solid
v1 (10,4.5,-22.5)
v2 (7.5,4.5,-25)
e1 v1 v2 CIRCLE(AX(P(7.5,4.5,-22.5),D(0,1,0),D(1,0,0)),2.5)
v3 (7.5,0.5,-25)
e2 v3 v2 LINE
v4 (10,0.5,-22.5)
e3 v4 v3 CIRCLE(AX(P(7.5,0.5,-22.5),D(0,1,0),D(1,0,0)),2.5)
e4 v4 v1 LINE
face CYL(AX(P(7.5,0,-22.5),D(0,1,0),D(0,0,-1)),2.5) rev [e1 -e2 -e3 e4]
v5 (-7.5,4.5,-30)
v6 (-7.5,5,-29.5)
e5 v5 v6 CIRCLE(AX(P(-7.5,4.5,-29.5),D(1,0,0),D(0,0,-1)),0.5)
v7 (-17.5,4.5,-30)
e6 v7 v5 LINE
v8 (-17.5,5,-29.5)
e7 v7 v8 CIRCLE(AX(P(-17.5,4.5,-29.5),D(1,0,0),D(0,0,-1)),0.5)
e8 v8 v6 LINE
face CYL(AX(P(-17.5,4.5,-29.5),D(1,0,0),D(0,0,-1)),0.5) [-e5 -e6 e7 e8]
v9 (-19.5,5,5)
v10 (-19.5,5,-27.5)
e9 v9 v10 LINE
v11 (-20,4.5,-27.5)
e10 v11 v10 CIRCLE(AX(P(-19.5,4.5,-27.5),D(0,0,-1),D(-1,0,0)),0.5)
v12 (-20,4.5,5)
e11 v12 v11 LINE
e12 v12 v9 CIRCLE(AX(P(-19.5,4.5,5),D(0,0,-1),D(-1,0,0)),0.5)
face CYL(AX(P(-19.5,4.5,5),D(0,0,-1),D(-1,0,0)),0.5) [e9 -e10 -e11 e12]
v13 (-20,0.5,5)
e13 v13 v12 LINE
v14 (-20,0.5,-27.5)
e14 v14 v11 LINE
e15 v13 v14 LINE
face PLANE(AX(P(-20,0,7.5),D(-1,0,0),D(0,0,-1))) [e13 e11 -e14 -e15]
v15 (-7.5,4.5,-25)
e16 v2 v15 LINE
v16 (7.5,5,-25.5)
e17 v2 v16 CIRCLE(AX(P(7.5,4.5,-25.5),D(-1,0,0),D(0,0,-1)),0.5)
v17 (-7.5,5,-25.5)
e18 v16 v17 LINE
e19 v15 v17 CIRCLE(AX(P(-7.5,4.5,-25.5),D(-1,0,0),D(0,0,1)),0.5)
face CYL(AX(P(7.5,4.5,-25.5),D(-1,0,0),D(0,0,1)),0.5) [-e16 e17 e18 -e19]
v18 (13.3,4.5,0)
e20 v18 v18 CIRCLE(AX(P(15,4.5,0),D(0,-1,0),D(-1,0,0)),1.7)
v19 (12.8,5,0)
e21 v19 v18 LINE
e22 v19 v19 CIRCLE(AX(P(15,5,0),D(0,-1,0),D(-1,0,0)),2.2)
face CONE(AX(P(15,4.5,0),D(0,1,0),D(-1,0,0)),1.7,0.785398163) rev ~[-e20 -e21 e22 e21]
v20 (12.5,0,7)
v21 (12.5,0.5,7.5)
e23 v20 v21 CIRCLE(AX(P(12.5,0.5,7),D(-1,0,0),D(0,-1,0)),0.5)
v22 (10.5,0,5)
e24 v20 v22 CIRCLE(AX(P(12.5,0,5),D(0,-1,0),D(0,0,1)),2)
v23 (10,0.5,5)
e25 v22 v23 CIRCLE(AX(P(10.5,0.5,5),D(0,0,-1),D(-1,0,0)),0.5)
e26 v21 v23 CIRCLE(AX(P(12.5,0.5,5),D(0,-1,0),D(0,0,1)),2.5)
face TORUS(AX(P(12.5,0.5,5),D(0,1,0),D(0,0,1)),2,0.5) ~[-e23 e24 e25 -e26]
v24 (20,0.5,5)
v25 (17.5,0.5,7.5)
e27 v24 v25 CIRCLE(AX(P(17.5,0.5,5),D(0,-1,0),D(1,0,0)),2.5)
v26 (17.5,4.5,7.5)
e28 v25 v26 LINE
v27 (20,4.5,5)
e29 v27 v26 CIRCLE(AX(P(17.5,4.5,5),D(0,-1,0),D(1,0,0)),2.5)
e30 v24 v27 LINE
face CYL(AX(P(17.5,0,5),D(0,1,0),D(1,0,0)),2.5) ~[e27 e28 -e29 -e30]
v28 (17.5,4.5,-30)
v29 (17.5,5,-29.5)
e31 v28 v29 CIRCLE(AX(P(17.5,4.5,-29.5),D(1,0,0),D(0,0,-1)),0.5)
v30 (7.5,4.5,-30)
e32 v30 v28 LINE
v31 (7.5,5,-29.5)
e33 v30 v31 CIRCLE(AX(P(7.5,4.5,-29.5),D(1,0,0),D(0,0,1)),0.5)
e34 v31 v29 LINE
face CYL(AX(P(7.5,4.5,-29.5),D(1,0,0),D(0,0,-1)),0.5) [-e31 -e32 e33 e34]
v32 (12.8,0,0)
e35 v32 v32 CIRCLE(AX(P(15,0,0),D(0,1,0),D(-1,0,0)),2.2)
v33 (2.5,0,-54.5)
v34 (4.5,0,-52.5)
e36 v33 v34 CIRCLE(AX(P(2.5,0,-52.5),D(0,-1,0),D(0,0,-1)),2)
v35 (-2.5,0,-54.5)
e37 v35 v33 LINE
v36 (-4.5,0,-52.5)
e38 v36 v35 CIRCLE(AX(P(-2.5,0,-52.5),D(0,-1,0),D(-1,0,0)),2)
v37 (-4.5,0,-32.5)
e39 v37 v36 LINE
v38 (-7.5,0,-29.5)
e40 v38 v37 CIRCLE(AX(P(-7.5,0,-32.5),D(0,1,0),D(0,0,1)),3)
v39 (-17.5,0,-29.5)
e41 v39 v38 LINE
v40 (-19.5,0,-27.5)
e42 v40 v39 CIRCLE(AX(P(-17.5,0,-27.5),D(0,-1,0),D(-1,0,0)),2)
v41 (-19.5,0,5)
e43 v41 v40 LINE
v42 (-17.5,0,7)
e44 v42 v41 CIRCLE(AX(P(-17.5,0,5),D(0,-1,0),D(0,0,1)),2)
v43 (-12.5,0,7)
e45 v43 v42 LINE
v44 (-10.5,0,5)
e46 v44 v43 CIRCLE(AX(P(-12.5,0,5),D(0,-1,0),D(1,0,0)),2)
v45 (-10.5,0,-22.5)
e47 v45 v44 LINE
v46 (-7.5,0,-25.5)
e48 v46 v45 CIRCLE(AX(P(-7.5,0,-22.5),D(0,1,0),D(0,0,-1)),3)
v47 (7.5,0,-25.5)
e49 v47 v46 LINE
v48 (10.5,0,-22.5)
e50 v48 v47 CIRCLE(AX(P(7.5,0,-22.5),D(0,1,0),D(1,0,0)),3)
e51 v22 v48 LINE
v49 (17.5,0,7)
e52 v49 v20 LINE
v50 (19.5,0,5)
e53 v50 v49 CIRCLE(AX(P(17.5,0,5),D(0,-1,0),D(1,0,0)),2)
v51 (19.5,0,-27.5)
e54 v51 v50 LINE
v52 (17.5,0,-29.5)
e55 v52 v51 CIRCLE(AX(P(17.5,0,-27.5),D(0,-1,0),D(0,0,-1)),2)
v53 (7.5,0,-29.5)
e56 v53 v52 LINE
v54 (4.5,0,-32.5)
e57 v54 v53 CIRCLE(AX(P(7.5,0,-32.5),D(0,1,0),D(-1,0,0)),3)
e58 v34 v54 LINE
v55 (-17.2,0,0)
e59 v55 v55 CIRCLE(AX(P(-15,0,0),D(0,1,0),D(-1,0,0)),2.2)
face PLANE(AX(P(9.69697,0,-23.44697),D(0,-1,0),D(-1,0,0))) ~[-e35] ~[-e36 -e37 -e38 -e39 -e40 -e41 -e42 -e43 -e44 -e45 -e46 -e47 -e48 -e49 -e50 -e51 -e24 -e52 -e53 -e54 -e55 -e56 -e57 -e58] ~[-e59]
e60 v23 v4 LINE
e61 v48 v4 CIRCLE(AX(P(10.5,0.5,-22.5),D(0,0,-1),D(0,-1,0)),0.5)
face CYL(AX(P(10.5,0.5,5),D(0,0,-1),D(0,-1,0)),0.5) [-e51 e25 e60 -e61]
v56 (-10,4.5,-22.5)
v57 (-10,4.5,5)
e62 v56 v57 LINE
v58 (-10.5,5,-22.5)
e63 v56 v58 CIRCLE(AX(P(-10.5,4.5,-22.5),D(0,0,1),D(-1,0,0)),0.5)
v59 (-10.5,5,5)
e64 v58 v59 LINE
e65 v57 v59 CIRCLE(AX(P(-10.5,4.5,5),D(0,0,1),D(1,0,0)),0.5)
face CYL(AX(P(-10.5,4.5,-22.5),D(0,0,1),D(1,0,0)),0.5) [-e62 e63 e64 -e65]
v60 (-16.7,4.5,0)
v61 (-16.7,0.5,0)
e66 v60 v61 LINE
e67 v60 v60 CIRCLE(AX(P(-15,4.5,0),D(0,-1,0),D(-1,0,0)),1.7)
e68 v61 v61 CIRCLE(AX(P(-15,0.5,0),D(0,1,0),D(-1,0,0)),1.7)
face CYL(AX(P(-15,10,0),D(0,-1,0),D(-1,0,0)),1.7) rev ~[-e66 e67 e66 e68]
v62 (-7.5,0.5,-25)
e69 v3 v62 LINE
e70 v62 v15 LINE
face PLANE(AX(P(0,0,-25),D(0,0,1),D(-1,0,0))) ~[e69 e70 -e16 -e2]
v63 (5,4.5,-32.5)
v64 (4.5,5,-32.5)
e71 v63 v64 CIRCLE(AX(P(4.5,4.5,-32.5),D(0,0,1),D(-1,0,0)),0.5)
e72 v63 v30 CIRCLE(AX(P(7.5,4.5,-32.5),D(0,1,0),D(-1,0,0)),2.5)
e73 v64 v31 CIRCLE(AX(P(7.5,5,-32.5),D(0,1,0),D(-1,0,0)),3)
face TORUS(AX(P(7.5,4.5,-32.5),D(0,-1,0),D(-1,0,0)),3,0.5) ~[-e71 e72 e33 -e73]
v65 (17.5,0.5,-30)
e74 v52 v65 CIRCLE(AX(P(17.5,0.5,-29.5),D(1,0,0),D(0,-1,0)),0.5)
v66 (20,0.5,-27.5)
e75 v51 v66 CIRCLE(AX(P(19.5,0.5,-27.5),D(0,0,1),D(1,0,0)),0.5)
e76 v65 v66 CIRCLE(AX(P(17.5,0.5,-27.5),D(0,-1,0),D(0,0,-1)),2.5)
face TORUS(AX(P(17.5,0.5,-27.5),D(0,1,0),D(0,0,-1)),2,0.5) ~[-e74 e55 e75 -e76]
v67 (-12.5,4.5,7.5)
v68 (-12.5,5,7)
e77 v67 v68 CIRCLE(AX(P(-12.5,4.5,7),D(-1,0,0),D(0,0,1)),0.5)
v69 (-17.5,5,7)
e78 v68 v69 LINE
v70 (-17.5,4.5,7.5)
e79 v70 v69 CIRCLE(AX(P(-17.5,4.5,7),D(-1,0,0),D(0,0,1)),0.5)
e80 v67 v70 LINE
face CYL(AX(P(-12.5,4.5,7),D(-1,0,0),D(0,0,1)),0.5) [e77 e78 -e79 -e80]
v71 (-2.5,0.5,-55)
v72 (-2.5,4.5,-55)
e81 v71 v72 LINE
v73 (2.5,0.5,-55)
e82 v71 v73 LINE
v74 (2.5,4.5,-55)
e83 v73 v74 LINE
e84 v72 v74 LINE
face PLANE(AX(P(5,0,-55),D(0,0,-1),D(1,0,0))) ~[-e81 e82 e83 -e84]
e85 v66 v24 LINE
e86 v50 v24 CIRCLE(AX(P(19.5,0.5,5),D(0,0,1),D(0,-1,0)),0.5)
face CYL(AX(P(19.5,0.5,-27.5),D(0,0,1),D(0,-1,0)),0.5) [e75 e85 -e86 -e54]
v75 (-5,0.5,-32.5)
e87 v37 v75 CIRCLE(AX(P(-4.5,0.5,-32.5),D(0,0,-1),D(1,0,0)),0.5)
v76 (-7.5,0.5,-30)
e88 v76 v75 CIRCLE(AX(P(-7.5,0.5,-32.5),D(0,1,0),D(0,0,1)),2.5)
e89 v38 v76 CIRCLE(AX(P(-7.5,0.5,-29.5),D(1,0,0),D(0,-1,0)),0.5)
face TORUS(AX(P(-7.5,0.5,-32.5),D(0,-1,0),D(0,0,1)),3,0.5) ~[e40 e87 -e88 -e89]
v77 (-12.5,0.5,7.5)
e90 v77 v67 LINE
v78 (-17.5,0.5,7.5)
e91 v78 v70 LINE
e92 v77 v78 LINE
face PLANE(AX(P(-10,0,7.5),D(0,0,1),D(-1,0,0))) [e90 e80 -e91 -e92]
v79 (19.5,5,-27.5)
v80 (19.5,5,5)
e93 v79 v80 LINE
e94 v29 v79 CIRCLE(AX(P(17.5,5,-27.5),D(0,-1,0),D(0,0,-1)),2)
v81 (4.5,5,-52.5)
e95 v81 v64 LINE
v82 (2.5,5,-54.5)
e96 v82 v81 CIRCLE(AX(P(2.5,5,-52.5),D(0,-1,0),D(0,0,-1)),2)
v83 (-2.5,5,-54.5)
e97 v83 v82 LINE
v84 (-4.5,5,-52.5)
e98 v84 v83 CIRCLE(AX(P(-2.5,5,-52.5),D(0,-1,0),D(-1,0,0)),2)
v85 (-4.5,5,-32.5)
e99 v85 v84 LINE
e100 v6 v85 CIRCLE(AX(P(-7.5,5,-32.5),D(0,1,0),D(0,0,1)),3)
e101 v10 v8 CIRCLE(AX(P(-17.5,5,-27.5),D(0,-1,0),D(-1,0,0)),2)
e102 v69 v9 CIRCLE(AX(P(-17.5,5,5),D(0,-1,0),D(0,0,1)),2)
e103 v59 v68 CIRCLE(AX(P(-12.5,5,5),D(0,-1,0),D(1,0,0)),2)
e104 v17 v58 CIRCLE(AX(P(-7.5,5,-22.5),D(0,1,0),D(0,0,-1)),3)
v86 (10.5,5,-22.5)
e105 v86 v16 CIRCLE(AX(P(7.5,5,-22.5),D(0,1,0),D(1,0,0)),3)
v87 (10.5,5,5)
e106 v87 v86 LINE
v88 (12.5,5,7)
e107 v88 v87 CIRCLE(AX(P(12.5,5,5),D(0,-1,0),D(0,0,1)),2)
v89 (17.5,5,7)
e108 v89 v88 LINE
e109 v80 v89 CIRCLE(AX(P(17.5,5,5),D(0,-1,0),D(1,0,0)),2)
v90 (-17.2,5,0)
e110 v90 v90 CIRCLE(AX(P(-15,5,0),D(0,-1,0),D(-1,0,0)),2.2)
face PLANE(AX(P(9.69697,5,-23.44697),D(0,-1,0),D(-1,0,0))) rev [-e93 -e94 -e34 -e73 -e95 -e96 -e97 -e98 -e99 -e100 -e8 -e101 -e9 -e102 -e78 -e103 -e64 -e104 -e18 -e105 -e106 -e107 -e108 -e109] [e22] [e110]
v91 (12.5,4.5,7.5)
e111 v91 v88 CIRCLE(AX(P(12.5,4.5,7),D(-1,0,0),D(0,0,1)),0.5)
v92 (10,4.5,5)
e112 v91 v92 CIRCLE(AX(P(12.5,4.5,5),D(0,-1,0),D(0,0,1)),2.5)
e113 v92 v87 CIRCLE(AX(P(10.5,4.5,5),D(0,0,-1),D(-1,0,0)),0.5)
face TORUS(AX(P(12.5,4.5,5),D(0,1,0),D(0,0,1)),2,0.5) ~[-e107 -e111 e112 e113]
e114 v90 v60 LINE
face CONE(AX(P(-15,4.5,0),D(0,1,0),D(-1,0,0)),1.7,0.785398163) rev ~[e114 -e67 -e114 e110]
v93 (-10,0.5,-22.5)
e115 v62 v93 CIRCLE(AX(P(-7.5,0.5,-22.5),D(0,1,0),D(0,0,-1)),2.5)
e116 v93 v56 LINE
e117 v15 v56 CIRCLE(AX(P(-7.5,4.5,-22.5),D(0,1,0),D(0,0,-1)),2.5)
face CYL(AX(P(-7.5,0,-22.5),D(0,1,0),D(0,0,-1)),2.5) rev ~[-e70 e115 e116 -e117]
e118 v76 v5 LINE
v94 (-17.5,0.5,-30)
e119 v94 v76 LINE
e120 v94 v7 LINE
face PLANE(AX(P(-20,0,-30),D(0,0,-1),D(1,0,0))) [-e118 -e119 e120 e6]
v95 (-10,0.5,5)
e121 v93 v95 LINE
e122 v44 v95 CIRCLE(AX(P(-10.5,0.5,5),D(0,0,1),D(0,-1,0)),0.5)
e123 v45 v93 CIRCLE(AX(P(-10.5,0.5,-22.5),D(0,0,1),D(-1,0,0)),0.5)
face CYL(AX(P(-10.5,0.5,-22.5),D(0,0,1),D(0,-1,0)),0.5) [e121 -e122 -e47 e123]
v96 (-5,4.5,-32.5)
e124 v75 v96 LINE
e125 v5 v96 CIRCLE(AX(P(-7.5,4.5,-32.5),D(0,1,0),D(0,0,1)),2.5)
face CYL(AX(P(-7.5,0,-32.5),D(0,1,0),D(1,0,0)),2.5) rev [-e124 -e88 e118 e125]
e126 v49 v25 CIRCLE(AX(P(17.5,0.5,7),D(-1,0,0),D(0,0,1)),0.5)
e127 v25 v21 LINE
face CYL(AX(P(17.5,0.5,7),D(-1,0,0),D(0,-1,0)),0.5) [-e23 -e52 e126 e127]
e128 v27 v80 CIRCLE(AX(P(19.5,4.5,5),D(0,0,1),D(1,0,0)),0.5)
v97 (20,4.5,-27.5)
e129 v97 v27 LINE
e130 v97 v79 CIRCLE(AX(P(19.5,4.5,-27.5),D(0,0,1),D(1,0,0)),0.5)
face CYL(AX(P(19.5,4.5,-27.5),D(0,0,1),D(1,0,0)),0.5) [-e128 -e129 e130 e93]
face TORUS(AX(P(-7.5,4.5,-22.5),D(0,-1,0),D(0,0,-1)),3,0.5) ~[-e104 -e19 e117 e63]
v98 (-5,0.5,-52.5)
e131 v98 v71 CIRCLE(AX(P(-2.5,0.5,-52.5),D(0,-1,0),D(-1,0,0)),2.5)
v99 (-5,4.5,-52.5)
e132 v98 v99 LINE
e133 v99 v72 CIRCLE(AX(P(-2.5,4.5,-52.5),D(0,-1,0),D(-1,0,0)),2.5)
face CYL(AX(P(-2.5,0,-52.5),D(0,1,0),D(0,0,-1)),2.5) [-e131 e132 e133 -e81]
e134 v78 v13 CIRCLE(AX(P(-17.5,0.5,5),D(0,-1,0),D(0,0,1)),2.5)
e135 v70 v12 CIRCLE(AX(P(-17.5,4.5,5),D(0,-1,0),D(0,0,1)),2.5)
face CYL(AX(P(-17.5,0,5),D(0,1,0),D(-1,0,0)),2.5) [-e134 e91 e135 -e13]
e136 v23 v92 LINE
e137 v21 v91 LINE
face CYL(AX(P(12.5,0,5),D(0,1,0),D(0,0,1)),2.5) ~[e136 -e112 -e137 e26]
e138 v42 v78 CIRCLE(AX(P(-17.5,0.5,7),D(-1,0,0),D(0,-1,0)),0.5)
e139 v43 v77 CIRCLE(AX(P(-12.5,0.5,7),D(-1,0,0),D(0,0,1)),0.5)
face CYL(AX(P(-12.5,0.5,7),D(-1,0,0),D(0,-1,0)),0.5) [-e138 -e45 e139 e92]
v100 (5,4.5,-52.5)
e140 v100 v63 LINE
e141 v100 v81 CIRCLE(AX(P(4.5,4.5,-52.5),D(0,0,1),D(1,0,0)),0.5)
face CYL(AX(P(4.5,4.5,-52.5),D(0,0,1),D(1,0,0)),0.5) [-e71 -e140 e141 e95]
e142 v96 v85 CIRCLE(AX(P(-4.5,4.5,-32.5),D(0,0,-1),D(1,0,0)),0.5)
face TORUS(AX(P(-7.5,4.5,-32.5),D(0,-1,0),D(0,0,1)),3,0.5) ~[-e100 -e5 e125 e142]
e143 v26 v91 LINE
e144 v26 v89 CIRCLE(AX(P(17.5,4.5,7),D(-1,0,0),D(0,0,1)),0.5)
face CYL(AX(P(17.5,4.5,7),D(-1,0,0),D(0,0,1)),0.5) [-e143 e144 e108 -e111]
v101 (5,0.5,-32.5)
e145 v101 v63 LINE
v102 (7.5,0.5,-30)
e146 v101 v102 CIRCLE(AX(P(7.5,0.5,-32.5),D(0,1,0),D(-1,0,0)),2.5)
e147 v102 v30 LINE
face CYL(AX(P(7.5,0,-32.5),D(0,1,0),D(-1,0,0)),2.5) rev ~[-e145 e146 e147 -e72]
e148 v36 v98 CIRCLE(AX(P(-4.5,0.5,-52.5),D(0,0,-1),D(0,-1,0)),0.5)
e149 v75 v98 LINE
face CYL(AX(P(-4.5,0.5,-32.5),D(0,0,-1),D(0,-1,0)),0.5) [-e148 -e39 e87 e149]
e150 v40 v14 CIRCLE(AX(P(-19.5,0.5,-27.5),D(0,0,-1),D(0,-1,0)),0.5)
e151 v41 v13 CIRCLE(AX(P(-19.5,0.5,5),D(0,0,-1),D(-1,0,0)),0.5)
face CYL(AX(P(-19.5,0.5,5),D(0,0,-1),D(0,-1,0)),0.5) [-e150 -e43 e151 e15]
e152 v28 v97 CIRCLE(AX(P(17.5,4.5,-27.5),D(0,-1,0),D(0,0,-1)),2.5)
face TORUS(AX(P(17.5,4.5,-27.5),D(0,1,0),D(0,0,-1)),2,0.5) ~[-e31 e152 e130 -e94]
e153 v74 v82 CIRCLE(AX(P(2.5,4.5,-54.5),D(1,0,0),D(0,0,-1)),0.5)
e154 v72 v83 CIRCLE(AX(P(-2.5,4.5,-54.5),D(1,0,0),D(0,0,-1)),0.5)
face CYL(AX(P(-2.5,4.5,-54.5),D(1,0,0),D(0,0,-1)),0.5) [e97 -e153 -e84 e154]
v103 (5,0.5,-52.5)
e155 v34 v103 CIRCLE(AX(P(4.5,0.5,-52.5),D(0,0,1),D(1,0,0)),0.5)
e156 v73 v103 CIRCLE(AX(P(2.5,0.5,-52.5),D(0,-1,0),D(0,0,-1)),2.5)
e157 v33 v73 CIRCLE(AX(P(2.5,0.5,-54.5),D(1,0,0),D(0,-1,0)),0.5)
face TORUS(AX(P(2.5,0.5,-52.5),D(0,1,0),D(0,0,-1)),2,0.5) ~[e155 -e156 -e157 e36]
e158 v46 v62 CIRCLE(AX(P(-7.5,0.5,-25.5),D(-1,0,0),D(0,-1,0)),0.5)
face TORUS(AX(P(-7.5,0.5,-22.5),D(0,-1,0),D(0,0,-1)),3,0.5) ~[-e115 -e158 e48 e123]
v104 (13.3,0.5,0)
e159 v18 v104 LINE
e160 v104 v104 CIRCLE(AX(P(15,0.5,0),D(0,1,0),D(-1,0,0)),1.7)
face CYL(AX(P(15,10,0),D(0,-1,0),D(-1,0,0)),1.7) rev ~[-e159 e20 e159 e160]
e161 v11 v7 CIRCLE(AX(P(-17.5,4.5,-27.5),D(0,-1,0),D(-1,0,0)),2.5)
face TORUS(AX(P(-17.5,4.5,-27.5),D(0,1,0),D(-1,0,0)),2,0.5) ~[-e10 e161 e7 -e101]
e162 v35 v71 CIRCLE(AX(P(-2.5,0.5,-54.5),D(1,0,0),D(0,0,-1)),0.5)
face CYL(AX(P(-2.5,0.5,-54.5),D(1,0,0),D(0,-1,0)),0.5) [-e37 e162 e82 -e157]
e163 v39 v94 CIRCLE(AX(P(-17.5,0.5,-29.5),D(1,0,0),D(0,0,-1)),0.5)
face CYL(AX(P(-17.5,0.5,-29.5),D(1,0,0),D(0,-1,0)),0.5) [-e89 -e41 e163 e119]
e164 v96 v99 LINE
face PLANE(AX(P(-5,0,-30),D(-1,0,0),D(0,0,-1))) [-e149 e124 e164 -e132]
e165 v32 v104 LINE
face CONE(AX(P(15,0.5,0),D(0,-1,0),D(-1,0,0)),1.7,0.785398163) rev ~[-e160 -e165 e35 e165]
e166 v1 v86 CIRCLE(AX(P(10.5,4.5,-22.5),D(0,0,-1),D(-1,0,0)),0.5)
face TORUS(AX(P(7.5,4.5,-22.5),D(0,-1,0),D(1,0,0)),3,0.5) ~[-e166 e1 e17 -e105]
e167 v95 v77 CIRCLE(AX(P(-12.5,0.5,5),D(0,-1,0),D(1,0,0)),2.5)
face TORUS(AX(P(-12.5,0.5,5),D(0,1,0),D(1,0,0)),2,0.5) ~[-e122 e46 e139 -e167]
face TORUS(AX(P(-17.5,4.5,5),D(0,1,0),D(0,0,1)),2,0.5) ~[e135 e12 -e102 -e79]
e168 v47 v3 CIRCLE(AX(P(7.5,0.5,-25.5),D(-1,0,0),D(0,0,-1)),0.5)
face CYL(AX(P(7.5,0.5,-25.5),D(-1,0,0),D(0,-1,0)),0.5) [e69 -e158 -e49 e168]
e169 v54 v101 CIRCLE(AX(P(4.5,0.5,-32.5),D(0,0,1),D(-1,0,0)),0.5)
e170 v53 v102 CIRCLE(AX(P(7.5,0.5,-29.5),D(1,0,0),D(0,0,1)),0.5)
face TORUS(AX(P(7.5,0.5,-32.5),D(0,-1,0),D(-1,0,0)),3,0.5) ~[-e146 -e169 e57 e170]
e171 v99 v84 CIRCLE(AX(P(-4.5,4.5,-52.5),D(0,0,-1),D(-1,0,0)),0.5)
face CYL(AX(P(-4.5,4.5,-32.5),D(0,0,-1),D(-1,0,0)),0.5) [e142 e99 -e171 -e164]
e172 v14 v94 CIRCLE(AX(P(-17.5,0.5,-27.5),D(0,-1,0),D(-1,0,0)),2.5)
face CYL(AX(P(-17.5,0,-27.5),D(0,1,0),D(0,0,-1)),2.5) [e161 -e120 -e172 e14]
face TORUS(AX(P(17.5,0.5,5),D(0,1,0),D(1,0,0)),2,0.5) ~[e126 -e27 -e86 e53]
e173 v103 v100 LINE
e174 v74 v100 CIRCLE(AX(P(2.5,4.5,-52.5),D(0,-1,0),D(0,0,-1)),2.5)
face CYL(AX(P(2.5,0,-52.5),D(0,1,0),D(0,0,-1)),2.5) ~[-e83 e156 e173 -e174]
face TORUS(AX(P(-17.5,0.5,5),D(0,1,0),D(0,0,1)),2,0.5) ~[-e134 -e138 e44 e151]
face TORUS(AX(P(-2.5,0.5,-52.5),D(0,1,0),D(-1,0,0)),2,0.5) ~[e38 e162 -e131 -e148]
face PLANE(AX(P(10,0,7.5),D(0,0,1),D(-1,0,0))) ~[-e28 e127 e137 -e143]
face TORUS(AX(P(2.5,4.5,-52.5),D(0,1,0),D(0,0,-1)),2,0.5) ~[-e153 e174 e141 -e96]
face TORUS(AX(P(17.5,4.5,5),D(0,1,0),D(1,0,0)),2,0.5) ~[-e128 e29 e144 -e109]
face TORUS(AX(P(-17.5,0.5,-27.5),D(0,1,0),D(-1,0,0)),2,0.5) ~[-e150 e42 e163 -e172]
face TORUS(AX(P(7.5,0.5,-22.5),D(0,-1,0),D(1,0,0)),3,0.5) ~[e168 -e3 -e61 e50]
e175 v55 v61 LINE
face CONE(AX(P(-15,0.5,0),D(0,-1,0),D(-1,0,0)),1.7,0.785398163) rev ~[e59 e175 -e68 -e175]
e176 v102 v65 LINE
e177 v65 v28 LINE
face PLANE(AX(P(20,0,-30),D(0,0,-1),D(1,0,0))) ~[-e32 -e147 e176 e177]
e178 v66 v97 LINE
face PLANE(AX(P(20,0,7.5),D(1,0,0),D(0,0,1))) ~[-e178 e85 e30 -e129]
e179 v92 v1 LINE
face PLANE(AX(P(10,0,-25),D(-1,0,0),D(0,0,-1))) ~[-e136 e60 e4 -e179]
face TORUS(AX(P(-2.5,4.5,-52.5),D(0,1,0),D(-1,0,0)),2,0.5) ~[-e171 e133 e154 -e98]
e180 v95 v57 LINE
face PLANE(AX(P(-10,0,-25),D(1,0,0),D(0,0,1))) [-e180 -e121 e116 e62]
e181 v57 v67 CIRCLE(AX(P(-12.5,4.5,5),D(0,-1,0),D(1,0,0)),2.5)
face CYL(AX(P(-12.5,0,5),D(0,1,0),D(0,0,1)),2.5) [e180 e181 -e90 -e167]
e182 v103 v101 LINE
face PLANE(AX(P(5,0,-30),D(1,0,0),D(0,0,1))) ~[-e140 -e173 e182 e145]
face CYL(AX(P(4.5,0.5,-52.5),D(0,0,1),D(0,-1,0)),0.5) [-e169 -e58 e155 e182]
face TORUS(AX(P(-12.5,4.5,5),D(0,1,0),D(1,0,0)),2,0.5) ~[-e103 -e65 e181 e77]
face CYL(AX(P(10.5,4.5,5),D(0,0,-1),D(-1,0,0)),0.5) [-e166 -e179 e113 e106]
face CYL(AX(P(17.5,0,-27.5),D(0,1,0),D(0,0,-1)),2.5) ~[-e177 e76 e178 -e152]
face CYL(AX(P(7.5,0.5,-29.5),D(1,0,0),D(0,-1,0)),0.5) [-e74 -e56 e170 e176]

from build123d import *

# Parameters (mm, degrees)
BOSS_EXTRUDE1_DEPTH      = 5
M3_CLEARANCE_HOLE1_D     = 3.4
M3_CLEARANCE_HOLE1_DEPTH = 5
M3_CLEARANCE_HOLE1_TIP   = 1.021463052
FILLET1_R                = 2.5
CHAMFER1_SIZE            = 0.5
FILLET2_R                = 0.5


with BuildPart() as part:
    # Sketch3 → Boss-Extrude1 (new body)
    with BuildSketch(Plane(origin=(0, 0, 0), x_dir=(1, 0, 0), z_dir=(0, 1, 0))):
        Polygon((0, 55), (0, 25), (-10, 25), (-10, -7.5), (-20, -7.5), (-20, 30), (-5, 30), (-5, 55), align=None)
    boss_extrude1 = extrude(amount=BOSS_EXTRUDE1_DEPTH)

    # Mirror1: Boss-Extrude1 across plane
    add(boss_extrude1.mirror(Plane(origin=(0, 0, 0), x_dir=(0, 0, 1), z_dir=(1, 0, 0))))

    # M3 Clearance Hole1
    with Locations(Plane(origin=(0, 5, 0), x_dir=(1, 0, 0), z_dir=(0, 1, 0))):
        with Locations((-15, 0), (15, 0)):
            Hole(M3_CLEARANCE_HOLE1_D / 2, depth=M3_CLEARANCE_HOLE1_DEPTH)
            with Locations((0, 0, -(M3_CLEARANCE_HOLE1_DEPTH + M3_CLEARANCE_HOLE1_TIP / 2))):  # 118° drill point
                Cone(0, M3_CLEARANCE_HOLE1_D / 2, M3_CLEARANCE_HOLE1_TIP, mode=Mode.SUBTRACT)

    # Fillet1
    fillet1_edges = [part.edges().sort_by_distance(p)[0] for p in [
        (-10, 2.5, -25),
        (-10, 2.5, 7.5),
        (-20, 2.5, 7.5),
        (-20, 2.5, -30),
        (-5, 2.5, -30),
        (-5, 2.5, -55),
        (5, 2.5, -55),
        (10, 2.5, -25),
        (10, 2.5, 7.5),
        (20, 2.5, 7.5),
        (20, 2.5, -30),
        (5, 2.5, -30),
    ]]
    fillet(fillet1_edges, radius=FILLET1_R)

    # Chamfer1
    chamfer1_edges = [part.edges().sort_by_distance(p)[0] for p in [
        (16.7, 5, 0),
        (16.7, 0, 0),
        (-13.3, 5, 0),
        (-13.3, 0, 0),
    ]]
    chamfer(chamfer1_edges, length=CHAMFER1_SIZE)

    # Fillet2
    fillet2_edges = [part.edges().sort_by_distance(p)[0] for p in [
        (5.732233047, 0, -30.732233047),
        (5.732233047, 5, -30.732233047),
        (9.267766953, 0, -24.267766953),
        (9.267766953, 5, -24.267766953),
        (-9.267766953, 0, -24.267766953),
        (-9.267766953, 5, -24.267766953),
        (-12.5, 0, -30),
        (-12.5, 5, -30),
        (-5, 0, -42.5),
        (-5, 5, -42.5),
        (-20, 0, -11.25),
        (-20, 5, -11.25),
        (0, 0, -55),
        (5, 0, -42.5),
        (12.5, 0, -30),
        (20, 0, -11.25),
        (15, 0, 7.5),
        (10, 0, -8.75),
        (0, 0, -25),
        (-10, 0, -8.75),
        (-15, 0, 7.5),
        (-19.267766953, 0, 6.767766953),
        (-10.732233047, 0, 6.767766953),
        (10.732233047, 0, 6.767766953),
        (19.267766953, 0, 6.767766953),
        (19.267766953, 0, -29.267766953),
        (4.267766953, 0, -54.267766953),
        (-4.267766953, 0, -54.267766953),
        (-19.267766953, 0, -29.267766953),
        (0, 5, -55),
        (-15, 5, 7.5),
        (-10, 5, -8.75),
        (0, 5, -25),
        (10, 5, -8.75),
        (15, 5, 7.5),
        (20, 5, -11.25),
        (12.5, 5, -30),
        (5, 5, -42.5),
        (-19.267766953, 5, 6.767766953),
        (-10.732233047, 5, 6.767766953),
        (10.732233047, 5, 6.767766953),
        (19.267766953, 5, 6.767766953),
        (19.267766953, 5, -29.267766953),
        (4.267766953, 5, -54.267766953),
        (-4.267766953, 5, -54.267766953),
        (-19.267766953, 5, -29.267766953),
        (-5.732233047, 0, -30.732233047),
        (-5.732233047, 5, -30.732233047),
    ]]
    fillet(fillet2_edges, radius=FILLET2_R)


solid = part.part
